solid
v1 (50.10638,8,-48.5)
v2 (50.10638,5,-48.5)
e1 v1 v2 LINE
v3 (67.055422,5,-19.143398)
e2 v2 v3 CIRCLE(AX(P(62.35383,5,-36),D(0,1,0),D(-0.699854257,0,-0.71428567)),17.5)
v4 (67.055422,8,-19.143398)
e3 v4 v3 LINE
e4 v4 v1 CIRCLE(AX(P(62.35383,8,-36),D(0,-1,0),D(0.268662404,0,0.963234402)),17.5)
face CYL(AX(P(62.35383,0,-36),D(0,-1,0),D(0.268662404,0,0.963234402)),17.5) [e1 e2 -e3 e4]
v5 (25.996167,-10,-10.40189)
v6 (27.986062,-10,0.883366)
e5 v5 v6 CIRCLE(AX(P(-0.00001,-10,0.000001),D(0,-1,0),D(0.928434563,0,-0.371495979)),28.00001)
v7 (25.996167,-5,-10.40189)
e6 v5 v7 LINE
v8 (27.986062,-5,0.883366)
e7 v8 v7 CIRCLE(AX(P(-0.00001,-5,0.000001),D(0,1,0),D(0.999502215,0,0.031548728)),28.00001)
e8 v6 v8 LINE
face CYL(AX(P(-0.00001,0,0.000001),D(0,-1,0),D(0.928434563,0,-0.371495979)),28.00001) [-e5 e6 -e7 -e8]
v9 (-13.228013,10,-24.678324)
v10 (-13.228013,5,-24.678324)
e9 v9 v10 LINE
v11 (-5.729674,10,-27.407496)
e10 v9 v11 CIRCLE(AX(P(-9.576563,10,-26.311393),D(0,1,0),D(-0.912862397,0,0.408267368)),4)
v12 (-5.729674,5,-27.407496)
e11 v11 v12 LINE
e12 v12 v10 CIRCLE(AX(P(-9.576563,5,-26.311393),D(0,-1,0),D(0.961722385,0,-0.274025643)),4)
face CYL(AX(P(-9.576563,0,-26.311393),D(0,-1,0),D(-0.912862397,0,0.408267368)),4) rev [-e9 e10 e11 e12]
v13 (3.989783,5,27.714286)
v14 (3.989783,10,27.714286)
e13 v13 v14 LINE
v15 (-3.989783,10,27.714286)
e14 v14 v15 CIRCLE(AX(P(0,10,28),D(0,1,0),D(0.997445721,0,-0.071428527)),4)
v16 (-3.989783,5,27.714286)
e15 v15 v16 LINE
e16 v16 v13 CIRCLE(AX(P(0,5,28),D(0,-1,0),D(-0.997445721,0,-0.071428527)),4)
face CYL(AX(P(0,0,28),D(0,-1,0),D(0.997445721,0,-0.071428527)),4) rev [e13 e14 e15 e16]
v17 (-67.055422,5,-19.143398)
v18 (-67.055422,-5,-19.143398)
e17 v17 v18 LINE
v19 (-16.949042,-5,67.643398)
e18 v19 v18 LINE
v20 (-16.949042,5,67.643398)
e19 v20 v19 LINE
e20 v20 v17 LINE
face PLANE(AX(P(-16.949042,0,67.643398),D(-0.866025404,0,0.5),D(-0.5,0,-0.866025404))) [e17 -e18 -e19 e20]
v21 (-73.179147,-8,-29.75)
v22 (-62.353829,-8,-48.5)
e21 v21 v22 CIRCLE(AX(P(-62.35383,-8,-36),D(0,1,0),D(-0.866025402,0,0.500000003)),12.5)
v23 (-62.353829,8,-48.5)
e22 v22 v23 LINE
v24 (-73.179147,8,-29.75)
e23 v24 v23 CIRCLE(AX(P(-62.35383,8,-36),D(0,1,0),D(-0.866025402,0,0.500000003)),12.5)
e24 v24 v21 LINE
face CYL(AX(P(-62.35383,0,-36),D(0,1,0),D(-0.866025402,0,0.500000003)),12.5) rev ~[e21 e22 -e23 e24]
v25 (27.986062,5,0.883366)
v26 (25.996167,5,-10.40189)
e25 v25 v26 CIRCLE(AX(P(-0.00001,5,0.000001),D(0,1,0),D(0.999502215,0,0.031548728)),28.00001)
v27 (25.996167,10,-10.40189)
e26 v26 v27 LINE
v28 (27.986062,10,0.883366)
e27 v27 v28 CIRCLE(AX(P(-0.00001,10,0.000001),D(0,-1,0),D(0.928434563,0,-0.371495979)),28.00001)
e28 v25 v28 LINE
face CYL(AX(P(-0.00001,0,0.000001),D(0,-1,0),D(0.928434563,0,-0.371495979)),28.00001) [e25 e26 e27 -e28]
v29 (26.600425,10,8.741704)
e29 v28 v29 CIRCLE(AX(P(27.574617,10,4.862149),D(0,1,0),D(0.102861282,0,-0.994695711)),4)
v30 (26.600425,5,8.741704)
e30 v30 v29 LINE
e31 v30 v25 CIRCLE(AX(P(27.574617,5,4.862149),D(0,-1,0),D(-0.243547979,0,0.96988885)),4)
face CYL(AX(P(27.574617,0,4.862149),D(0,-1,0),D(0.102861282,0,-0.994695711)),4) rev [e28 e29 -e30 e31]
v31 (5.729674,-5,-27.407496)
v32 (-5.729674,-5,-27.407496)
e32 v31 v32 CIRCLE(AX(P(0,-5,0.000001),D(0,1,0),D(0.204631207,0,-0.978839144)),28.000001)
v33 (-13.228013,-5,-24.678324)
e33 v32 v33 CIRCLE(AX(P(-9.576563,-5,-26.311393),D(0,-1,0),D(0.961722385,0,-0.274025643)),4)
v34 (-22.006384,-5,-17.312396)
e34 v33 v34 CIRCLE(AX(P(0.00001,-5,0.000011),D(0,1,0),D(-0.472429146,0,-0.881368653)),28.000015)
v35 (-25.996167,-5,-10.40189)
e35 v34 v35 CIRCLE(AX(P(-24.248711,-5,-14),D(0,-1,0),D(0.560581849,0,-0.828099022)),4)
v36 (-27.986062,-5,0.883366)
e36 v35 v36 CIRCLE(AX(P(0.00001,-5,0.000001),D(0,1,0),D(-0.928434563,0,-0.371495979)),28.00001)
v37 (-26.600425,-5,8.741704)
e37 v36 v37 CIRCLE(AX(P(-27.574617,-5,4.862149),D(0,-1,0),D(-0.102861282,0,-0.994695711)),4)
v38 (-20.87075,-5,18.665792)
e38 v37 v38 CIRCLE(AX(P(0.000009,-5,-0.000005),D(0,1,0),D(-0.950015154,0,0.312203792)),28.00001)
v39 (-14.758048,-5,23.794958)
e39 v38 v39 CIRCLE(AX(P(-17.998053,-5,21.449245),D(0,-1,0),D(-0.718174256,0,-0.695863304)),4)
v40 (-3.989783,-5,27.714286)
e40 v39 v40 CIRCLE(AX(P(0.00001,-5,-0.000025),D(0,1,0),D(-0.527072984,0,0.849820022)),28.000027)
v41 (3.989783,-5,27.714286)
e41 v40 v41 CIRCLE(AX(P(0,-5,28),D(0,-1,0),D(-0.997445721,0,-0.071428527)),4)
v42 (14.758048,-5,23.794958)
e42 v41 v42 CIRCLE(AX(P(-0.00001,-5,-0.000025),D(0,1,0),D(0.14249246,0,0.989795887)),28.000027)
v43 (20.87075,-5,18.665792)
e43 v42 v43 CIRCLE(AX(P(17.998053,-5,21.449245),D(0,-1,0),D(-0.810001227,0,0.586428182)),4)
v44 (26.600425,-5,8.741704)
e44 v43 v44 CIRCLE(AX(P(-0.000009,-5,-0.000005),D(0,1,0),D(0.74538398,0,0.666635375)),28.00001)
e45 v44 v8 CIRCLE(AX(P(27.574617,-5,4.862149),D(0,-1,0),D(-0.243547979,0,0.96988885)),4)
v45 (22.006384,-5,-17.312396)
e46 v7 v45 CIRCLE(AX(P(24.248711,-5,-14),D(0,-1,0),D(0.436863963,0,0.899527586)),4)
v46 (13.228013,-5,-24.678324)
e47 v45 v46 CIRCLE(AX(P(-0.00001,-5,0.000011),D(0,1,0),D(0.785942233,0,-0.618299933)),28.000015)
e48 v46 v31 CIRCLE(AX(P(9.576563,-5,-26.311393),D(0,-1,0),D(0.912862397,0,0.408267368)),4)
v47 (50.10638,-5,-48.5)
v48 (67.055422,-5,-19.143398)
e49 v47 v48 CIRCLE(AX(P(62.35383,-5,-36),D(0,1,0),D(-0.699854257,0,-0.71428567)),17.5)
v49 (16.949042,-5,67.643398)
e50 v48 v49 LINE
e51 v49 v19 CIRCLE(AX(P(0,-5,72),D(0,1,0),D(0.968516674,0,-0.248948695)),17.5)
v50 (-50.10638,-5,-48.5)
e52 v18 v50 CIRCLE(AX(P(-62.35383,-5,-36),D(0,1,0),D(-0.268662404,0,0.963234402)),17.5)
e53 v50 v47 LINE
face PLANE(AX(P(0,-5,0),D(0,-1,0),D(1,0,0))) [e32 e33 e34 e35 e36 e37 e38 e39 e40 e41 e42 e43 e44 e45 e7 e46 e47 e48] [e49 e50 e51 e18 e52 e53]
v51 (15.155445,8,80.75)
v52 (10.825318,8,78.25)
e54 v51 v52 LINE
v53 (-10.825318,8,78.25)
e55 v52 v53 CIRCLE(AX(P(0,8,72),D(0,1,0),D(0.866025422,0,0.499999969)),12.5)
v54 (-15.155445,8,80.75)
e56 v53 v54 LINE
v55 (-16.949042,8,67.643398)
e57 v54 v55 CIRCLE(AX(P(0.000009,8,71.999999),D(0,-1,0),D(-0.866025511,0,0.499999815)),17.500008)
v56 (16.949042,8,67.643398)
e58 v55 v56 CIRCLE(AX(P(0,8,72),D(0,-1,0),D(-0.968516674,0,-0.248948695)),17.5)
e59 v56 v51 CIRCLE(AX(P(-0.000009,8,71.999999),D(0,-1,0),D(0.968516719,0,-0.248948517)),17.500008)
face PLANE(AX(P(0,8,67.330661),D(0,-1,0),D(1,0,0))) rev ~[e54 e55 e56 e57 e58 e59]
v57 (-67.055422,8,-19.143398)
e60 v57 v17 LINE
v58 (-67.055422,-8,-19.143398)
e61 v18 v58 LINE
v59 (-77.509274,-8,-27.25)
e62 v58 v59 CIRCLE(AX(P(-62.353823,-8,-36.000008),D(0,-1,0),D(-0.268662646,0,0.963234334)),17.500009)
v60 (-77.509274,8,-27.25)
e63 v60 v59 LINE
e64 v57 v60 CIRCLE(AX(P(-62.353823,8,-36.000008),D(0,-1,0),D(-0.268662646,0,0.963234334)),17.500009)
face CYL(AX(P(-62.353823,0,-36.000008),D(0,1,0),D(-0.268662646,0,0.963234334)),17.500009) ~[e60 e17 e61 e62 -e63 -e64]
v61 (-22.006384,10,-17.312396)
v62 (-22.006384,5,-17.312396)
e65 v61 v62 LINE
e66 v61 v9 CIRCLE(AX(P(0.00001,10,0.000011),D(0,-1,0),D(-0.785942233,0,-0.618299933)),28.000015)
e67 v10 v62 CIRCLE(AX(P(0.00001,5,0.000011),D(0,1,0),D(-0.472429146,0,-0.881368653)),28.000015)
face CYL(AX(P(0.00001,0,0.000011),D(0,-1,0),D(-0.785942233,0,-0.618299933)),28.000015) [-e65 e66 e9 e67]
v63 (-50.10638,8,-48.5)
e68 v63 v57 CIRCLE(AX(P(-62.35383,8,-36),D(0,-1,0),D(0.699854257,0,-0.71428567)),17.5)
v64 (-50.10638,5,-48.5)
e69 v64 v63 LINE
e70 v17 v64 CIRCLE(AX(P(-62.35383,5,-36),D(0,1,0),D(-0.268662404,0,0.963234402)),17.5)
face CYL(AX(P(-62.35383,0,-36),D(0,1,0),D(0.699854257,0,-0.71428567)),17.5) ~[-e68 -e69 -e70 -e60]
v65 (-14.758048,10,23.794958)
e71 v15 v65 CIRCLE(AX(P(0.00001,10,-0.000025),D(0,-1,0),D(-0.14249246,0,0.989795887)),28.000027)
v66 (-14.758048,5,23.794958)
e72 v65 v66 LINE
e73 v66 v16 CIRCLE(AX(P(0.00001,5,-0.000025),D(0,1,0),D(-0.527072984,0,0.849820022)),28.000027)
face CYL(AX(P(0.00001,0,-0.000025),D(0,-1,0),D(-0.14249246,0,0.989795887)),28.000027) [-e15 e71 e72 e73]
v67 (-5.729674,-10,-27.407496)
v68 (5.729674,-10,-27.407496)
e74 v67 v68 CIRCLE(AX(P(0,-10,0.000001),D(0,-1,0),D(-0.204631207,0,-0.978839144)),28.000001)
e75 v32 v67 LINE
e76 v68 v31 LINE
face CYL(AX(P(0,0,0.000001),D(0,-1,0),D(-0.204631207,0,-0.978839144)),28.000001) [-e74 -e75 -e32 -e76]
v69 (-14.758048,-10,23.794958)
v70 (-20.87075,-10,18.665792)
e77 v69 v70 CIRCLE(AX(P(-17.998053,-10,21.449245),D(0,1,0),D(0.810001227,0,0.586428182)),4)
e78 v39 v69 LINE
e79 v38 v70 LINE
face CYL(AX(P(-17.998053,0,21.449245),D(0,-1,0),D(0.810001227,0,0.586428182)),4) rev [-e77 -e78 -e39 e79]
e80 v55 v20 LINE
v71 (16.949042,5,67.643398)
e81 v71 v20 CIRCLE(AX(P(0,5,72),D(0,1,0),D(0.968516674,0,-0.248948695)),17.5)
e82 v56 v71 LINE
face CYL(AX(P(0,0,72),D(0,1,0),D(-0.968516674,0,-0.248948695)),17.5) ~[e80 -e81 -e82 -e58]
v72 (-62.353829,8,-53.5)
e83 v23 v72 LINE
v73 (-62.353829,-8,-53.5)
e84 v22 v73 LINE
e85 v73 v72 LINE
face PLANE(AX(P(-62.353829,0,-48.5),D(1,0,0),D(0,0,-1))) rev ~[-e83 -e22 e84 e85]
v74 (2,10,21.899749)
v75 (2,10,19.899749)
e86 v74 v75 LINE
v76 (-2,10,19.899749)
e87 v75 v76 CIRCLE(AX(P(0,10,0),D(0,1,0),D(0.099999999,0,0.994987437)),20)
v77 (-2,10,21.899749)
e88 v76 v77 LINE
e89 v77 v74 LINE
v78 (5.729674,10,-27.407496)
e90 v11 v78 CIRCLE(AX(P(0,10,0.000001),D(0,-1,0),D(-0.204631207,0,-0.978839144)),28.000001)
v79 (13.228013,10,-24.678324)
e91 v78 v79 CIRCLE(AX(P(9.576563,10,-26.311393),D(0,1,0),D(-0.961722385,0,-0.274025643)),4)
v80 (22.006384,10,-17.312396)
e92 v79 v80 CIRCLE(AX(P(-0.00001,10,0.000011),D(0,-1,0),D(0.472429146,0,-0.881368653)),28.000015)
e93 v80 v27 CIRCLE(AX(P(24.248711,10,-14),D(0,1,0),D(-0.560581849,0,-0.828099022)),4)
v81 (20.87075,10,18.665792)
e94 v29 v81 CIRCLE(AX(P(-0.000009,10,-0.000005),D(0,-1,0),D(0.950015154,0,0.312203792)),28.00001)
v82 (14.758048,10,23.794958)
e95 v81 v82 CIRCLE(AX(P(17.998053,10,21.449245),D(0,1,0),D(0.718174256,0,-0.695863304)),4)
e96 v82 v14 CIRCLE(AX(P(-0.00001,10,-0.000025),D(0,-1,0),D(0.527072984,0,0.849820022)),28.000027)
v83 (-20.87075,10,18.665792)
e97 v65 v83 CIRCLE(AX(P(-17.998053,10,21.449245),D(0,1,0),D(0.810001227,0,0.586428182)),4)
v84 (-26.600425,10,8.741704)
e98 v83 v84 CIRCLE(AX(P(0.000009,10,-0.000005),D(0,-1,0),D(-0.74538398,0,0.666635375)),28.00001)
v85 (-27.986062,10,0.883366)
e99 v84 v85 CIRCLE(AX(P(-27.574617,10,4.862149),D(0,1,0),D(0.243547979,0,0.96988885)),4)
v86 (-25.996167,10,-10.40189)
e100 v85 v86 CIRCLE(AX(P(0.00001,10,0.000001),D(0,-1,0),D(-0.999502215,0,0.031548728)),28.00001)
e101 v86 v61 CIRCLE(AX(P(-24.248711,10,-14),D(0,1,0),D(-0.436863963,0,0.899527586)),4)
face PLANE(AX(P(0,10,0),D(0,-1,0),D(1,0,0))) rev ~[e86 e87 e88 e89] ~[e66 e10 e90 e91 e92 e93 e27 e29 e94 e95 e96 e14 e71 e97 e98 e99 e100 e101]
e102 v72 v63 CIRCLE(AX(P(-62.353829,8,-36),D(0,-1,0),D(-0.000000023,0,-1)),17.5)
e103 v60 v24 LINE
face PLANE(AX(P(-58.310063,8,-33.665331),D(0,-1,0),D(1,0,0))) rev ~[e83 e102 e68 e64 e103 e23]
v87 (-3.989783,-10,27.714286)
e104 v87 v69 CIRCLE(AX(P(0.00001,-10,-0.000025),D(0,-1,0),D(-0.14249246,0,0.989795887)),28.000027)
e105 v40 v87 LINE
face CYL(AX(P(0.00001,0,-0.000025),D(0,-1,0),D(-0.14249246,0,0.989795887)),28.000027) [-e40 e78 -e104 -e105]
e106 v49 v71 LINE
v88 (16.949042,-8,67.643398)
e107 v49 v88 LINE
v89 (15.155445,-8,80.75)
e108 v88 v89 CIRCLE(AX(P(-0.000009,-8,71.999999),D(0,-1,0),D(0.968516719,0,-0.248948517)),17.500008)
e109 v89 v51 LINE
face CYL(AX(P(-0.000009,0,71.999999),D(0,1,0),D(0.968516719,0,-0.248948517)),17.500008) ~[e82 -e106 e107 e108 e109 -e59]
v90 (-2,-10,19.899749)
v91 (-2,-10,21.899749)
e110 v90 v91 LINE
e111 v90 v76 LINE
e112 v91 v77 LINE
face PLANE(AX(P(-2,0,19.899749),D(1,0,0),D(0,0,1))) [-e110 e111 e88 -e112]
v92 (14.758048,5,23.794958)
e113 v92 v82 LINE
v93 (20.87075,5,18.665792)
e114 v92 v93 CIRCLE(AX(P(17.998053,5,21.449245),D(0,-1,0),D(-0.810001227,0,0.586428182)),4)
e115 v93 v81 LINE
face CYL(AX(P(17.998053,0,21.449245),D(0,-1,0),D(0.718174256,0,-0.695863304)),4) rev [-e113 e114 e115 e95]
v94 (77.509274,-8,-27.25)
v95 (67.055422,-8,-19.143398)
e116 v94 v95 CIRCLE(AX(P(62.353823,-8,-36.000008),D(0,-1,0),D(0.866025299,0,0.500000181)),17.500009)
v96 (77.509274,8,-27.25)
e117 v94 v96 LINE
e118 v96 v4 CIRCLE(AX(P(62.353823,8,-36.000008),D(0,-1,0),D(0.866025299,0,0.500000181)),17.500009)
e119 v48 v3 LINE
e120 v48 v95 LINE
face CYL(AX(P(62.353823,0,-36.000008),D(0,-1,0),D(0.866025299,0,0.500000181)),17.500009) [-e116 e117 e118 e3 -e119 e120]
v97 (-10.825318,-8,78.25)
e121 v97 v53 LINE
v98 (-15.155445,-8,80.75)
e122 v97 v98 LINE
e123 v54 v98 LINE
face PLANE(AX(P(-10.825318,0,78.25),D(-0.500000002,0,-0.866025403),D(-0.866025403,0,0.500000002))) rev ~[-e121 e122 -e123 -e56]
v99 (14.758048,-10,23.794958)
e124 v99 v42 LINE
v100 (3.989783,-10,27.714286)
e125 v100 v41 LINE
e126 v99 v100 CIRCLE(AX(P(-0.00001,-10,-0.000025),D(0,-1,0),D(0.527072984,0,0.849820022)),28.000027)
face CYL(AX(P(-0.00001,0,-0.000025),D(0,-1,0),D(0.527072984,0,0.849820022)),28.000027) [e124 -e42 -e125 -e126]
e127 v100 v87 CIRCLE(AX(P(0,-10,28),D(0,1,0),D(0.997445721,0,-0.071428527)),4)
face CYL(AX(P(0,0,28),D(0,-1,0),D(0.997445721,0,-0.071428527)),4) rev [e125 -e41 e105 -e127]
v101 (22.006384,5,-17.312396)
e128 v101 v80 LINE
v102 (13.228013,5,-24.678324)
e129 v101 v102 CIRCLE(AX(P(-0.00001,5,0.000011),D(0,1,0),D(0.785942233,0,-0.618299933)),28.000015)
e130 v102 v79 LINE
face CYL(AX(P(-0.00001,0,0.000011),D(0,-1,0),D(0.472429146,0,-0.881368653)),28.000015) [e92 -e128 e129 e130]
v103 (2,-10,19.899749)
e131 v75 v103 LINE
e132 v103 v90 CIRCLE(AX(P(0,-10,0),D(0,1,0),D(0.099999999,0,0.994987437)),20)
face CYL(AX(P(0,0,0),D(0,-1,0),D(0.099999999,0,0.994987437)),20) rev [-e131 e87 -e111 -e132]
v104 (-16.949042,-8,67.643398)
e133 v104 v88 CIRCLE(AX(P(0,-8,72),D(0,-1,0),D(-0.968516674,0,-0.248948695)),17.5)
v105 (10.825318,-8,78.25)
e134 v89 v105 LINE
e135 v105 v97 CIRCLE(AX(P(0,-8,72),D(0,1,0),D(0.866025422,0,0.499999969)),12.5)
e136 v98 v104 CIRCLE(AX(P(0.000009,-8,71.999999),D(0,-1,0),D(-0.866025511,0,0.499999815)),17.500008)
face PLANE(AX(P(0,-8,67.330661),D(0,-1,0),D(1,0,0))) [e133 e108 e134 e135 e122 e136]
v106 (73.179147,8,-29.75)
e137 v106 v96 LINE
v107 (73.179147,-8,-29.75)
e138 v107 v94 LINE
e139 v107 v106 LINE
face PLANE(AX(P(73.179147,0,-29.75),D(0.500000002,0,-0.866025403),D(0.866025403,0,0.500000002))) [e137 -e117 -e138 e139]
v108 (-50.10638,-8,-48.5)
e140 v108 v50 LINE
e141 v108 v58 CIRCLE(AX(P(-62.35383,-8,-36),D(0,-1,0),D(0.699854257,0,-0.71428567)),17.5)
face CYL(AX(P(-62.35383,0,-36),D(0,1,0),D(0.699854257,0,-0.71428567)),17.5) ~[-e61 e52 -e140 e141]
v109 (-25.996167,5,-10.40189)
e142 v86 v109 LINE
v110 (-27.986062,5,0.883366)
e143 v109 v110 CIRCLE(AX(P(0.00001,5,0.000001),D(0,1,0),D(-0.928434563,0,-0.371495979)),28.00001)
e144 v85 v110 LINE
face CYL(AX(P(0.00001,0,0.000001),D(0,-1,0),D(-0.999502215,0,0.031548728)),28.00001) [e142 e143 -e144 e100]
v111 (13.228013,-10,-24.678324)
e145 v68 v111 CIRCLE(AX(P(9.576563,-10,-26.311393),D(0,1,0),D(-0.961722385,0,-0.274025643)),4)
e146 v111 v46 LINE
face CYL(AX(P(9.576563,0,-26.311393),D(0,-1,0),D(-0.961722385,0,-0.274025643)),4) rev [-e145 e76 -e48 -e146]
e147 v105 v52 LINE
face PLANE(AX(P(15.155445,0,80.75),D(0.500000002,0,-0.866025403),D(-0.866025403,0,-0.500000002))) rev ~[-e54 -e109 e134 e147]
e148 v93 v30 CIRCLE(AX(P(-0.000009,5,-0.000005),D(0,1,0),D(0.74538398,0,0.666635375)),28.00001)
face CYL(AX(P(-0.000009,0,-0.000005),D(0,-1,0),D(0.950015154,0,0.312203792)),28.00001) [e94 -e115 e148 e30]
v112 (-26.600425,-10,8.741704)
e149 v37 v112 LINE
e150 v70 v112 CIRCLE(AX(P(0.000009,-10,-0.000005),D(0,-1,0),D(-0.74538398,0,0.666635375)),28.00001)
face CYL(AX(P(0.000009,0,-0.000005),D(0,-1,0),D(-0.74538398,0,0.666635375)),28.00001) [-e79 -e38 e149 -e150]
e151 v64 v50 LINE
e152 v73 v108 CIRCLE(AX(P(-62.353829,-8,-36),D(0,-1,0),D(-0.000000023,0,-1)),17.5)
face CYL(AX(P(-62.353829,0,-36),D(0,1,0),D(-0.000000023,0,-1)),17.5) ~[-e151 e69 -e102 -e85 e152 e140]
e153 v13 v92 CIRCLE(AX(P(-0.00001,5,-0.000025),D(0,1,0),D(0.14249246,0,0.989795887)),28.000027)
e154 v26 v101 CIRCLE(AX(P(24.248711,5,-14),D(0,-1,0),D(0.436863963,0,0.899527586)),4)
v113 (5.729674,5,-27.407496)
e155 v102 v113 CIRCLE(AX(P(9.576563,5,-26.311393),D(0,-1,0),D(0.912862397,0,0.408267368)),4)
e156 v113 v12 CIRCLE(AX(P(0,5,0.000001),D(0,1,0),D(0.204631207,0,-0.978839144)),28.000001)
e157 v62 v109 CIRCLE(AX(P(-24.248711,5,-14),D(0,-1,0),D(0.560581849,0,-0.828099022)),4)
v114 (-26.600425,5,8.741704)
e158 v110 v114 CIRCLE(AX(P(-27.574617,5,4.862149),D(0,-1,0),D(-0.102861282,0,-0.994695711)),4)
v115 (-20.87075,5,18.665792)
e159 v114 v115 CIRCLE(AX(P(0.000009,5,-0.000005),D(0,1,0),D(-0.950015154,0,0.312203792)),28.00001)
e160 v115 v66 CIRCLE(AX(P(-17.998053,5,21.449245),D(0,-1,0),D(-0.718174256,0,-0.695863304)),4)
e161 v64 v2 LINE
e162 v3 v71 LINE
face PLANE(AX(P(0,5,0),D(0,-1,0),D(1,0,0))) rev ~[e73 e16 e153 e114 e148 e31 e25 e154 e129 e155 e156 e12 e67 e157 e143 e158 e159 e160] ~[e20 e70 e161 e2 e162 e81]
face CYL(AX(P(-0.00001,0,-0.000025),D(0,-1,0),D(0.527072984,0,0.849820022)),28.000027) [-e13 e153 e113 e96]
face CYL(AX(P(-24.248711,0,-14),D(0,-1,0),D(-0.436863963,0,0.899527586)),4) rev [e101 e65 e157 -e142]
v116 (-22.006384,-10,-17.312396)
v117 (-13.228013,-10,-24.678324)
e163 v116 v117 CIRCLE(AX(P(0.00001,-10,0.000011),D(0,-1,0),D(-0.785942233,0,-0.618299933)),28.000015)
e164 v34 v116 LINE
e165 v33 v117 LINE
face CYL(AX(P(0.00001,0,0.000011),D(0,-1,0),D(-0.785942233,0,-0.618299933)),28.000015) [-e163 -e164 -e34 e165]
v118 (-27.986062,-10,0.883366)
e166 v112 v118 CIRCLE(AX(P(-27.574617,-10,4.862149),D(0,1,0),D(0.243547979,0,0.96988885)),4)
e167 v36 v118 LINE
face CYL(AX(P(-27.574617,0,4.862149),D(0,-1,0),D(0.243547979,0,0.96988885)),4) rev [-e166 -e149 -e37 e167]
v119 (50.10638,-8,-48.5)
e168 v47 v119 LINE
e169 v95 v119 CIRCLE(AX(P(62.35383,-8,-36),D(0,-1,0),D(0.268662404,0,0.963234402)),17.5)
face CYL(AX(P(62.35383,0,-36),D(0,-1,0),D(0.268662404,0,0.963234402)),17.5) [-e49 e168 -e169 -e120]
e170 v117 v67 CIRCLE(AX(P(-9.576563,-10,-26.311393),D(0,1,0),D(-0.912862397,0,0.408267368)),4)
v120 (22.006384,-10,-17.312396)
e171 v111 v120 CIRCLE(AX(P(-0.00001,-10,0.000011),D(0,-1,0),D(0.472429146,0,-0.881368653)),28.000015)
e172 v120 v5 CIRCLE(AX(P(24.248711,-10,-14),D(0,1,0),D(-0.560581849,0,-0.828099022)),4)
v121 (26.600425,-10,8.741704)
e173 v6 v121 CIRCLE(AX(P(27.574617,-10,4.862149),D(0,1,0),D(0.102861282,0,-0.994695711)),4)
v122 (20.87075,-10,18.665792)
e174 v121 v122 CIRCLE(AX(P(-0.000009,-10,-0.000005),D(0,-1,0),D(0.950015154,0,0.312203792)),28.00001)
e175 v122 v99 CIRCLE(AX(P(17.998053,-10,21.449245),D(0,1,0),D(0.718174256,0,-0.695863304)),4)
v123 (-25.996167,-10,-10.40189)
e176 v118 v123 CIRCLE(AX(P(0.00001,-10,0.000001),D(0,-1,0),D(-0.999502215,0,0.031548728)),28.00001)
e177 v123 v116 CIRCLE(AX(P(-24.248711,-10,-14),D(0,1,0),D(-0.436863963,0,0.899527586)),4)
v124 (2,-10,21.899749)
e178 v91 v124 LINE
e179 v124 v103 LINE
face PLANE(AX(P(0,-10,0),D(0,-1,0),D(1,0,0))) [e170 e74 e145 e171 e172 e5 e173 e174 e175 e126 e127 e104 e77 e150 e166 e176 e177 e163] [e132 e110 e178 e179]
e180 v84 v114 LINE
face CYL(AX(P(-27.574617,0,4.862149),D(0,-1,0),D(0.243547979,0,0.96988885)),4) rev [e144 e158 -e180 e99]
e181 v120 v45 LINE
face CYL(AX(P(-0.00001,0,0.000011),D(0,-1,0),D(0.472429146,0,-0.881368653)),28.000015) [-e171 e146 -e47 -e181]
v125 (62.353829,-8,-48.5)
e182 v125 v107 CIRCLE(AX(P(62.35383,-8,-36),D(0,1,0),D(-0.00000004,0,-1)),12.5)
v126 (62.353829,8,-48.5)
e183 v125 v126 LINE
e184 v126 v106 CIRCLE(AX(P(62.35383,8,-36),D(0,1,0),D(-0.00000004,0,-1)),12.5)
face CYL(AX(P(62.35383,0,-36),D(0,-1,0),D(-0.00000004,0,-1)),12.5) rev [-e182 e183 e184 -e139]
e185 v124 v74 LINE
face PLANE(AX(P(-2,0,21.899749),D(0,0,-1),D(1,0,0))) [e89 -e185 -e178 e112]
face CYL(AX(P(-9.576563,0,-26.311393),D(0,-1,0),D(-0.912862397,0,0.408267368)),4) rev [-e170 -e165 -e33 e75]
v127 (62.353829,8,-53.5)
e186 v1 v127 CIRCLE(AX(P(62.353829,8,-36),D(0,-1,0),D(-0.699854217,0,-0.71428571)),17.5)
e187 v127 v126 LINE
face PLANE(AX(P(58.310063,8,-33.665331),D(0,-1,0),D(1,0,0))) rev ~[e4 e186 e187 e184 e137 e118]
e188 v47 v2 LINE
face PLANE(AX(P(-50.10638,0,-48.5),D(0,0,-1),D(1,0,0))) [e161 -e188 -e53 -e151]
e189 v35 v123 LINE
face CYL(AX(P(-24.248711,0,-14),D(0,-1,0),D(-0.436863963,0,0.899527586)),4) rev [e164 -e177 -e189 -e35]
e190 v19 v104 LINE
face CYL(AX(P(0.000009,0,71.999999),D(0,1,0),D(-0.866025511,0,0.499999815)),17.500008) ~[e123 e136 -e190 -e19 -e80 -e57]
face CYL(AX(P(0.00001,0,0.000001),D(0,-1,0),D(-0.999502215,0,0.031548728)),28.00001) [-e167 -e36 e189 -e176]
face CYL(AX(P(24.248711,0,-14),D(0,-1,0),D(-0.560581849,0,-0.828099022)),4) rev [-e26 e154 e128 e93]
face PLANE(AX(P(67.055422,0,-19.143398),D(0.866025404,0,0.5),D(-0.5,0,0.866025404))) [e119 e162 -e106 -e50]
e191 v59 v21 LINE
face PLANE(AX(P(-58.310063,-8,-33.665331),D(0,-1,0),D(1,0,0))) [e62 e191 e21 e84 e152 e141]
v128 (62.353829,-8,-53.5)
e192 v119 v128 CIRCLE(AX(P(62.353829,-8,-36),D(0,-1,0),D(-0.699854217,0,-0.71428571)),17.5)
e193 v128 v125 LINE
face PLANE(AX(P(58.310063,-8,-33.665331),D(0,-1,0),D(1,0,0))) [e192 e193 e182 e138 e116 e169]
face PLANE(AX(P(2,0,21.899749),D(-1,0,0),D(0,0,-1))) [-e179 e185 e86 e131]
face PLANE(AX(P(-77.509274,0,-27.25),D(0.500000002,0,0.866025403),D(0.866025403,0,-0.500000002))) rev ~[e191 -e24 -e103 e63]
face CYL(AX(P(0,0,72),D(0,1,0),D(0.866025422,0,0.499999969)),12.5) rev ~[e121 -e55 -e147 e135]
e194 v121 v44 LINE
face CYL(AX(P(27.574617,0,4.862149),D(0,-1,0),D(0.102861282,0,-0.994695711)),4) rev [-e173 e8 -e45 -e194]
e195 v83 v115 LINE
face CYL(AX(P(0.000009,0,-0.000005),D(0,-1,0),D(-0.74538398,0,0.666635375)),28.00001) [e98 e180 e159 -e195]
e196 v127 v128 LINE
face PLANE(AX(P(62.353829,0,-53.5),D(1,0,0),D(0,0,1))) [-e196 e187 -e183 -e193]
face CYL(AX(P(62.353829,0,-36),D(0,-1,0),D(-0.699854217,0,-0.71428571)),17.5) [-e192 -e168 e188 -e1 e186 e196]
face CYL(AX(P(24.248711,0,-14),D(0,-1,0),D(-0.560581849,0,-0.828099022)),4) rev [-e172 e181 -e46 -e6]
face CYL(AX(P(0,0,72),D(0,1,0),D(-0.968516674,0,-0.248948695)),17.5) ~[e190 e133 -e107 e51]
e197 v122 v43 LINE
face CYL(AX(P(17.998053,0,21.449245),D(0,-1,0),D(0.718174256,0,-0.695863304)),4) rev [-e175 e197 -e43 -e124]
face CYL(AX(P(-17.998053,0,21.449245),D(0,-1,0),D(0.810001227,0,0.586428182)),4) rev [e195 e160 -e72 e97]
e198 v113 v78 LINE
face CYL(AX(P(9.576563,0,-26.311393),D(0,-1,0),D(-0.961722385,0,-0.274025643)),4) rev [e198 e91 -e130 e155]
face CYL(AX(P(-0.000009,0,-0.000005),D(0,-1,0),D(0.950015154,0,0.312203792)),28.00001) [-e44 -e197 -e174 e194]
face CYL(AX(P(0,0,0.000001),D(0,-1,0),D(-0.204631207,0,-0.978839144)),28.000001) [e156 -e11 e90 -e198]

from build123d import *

# Parameters (mm, degrees)
F1_DEPTH = 10
F2_DEPTH = 8
F3_DEPTH = 5


with BuildPart() as f1:
    # F0 (on Front) → F1 (new body, symmetric)
    with BuildSketch(Plane.XZ):
        with BuildLine():
            ThreePointArc((3.989783, 27.714286), (0, 24), (-3.989783, 27.714286))
            ThreePointArc((-3.989783, 27.714286), (-9.576564, 26.311393), (-14.758048, 23.794958))
            ThreePointArc((-14.758048, 23.794958), (-15.426903, 18.385067), (-20.87075, 18.665792))
            ThreePointArc((-20.87075, 18.665792), (-24.248711, 14), (-26.600425, 8.741704))
            ThreePointArc((-26.600425, 8.741704), (-23.635386, 4.167556), (-27.986062, 0.883366))
            ThreePointArc((-27.986062, 0.883366), (-27.574617, -4.862149), (-25.996167, -10.40189))
            ThreePointArc((-25.996167, -10.40189), (-20.78461, -12), (-22.006384, -17.312396))
            ThreePointArc((-22.006384, -17.312396), (-17.998053, -21.449244), (-13.228013, -24.678324))
            ThreePointArc((-13.228013, -24.678324), (-8.208483, -22.552623), (-5.729674, -27.407496))
            ThreePointArc((-5.729674, -27.407496), (0, -28), (5.729674, -27.407496))
            ThreePointArc((5.729674, -27.407496), (8.208483, -22.552623), (13.228013, -24.678324))
            ThreePointArc((13.228013, -24.678324), (17.998053, -21.449244), (22.006384, -17.312396))
            ThreePointArc((22.006384, -17.312396), (20.78461, -12), (25.996167, -10.40189))
            ThreePointArc((25.996167, -10.40189), (27.574617, -4.862149), (27.986062, 0.883366))
            ThreePointArc((27.986062, 0.883366), (23.635386, 4.167556), (26.600425, 8.741704))
            ThreePointArc((26.600425, 8.741704), (24.248711, 14), (20.87075, 18.665792))
            ThreePointArc((20.87075, 18.665792), (15.426903, 18.385067), (14.758048, 23.794958))
            ThreePointArc((14.758048, 23.794958), (9.576564, 26.311393), (3.989783, 27.714286))
        make_face()
        with BuildLine():
            ThreePointArc((2, 19.899749), (0, -20), (-2, 19.899749))
            Line((-2, 19.899749), (-2, 21.899749))
            Line((-2, 21.899749), (2, 21.899749))
            Line((2, 21.899749), (2, 19.899749))
        make_face(mode=Mode.SUBTRACT)
    extrude(amount=F1_DEPTH, both=True)



with BuildPart() as f2:
    # F0 (on Front) → F2 (new body, symmetric)
    with BuildSketch(Plane.XZ):
        with BuildLine():
            Line((-10.825318, 78.25), (-15.155445, 80.75))
            ThreePointArc((-15.155445, 80.75), (-17.338404, 74.372706), (-16.949042, 67.643398))
            ThreePointArc((-16.949042, 67.643398), (0, 54.5), (16.949042, 67.643398))
            ThreePointArc((16.949042, 67.643398), (17.338404, 74.372706), (15.155445, 80.75))
            Line((15.155445, 80.75), (10.825318, 78.25))
            ThreePointArc((10.825318, 78.25), (0, 59.5), (-10.825318, 78.25))
        make_face()
        with BuildLine():
            ThreePointArc((-50.10638, -48.5), (-47.198385, -27.25), (-67.055422, -19.143398))
            ThreePointArc((-67.055422, -19.143398), (-73.077855, -22.170855), (-77.509274, -27.25))
            Line((-77.509274, -27.25), (-73.179147, -29.75))
            ThreePointArc((-73.179147, -29.75), (-51.528512, -29.75), (-62.353829, -48.5))
            Line((-62.353829, -48.5), (-62.353829, -53.5))
            ThreePointArc((-62.353829, -53.5), (-55.739451, -52.201852), (-50.10638, -48.5))
        make_face()
        with BuildLine():
            ThreePointArc((77.509274, -27.25), (73.077855, -22.170855), (67.055422, -19.143398))
            ThreePointArc((67.055422, -19.143398), (47.198385, -27.25), (50.10638, -48.5))
            ThreePointArc((50.10638, -48.5), (55.739451, -52.201852), (62.353829, -53.5))
            Line((62.353829, -53.5), (62.353829, -48.5))
            ThreePointArc((62.353829, -48.5), (51.528512, -29.75), (73.179147, -29.75))
            Line((73.179147, -29.75), (77.509274, -27.25))
        make_face()
    extrude(amount=F2_DEPTH, both=True)


with BuildPart() as f1_1:
    add(f1.part)

    add(f2.part)  # F3 merges F2
    # F0 (on Front) → F3 (join, symmetric)
    with BuildSketch(Plane.XZ):
        with BuildLine():
            ThreePointArc((16.949042, 67.643398), (0, 54.5), (-16.949042, 67.643398))
            Line((-16.949042, 67.643398), (-67.055422, -19.143398))
            ThreePointArc((-67.055422, -19.143398), (-47.198385, -27.25), (-50.10638, -48.5))
            Line((-50.10638, -48.5), (50.10638, -48.5))
            ThreePointArc((50.10638, -48.5), (47.198385, -27.25), (67.055422, -19.143398))
            Line((67.055422, -19.143398), (16.949042, 67.643398))
        make_face()
        with BuildLine():
            ThreePointArc((-14.758048, 23.794958), (-9.576564, 26.311393), (-3.989783, 27.714286))
            ThreePointArc((-3.989783, 27.714286), (0, 24), (3.989783, 27.714286))
            ThreePointArc((3.989783, 27.714286), (9.576564, 26.311393), (14.758048, 23.794958))
            ThreePointArc((14.758048, 23.794958), (15.426903, 18.385067), (20.87075, 18.665792))
            ThreePointArc((20.87075, 18.665792), (24.248711, 14), (26.600425, 8.741704))
            ThreePointArc((26.600425, 8.741704), (23.635386, 4.167556), (27.986062, 0.883366))
            ThreePointArc((27.986062, 0.883366), (27.574617, -4.862149), (25.996167, -10.40189))
            ThreePointArc((25.996167, -10.40189), (20.78461, -12), (22.006384, -17.312396))
            ThreePointArc((22.006384, -17.312396), (17.998053, -21.449244), (13.228013, -24.678324))
            ThreePointArc((13.228013, -24.678324), (8.208483, -22.552623), (5.729674, -27.407496))
            ThreePointArc((5.729674, -27.407496), (0, -28), (-5.729674, -27.407496))
            ThreePointArc((-5.729674, -27.407496), (-8.208483, -22.552623), (-13.228013, -24.678324))
            ThreePointArc((-13.228013, -24.678324), (-17.998053, -21.449244), (-22.006384, -17.312396))
            ThreePointArc((-22.006384, -17.312396), (-20.78461, -12), (-25.996167, -10.40189))
            ThreePointArc((-25.996167, -10.40189), (-27.574617, -4.862149), (-27.986062, 0.883366))
            ThreePointArc((-27.986062, 0.883366), (-23.635386, 4.167556), (-26.600425, 8.741704))
            ThreePointArc((-26.600425, 8.741704), (-24.248711, 14), (-20.87075, 18.665792))
            ThreePointArc((-20.87075, 18.665792), (-15.426903, 18.385067), (-14.758048, 23.794958))
        make_face(mode=Mode.SUBTRACT)
    extrude(amount=F3_DEPTH, both=True)


solid = f1_1.part
